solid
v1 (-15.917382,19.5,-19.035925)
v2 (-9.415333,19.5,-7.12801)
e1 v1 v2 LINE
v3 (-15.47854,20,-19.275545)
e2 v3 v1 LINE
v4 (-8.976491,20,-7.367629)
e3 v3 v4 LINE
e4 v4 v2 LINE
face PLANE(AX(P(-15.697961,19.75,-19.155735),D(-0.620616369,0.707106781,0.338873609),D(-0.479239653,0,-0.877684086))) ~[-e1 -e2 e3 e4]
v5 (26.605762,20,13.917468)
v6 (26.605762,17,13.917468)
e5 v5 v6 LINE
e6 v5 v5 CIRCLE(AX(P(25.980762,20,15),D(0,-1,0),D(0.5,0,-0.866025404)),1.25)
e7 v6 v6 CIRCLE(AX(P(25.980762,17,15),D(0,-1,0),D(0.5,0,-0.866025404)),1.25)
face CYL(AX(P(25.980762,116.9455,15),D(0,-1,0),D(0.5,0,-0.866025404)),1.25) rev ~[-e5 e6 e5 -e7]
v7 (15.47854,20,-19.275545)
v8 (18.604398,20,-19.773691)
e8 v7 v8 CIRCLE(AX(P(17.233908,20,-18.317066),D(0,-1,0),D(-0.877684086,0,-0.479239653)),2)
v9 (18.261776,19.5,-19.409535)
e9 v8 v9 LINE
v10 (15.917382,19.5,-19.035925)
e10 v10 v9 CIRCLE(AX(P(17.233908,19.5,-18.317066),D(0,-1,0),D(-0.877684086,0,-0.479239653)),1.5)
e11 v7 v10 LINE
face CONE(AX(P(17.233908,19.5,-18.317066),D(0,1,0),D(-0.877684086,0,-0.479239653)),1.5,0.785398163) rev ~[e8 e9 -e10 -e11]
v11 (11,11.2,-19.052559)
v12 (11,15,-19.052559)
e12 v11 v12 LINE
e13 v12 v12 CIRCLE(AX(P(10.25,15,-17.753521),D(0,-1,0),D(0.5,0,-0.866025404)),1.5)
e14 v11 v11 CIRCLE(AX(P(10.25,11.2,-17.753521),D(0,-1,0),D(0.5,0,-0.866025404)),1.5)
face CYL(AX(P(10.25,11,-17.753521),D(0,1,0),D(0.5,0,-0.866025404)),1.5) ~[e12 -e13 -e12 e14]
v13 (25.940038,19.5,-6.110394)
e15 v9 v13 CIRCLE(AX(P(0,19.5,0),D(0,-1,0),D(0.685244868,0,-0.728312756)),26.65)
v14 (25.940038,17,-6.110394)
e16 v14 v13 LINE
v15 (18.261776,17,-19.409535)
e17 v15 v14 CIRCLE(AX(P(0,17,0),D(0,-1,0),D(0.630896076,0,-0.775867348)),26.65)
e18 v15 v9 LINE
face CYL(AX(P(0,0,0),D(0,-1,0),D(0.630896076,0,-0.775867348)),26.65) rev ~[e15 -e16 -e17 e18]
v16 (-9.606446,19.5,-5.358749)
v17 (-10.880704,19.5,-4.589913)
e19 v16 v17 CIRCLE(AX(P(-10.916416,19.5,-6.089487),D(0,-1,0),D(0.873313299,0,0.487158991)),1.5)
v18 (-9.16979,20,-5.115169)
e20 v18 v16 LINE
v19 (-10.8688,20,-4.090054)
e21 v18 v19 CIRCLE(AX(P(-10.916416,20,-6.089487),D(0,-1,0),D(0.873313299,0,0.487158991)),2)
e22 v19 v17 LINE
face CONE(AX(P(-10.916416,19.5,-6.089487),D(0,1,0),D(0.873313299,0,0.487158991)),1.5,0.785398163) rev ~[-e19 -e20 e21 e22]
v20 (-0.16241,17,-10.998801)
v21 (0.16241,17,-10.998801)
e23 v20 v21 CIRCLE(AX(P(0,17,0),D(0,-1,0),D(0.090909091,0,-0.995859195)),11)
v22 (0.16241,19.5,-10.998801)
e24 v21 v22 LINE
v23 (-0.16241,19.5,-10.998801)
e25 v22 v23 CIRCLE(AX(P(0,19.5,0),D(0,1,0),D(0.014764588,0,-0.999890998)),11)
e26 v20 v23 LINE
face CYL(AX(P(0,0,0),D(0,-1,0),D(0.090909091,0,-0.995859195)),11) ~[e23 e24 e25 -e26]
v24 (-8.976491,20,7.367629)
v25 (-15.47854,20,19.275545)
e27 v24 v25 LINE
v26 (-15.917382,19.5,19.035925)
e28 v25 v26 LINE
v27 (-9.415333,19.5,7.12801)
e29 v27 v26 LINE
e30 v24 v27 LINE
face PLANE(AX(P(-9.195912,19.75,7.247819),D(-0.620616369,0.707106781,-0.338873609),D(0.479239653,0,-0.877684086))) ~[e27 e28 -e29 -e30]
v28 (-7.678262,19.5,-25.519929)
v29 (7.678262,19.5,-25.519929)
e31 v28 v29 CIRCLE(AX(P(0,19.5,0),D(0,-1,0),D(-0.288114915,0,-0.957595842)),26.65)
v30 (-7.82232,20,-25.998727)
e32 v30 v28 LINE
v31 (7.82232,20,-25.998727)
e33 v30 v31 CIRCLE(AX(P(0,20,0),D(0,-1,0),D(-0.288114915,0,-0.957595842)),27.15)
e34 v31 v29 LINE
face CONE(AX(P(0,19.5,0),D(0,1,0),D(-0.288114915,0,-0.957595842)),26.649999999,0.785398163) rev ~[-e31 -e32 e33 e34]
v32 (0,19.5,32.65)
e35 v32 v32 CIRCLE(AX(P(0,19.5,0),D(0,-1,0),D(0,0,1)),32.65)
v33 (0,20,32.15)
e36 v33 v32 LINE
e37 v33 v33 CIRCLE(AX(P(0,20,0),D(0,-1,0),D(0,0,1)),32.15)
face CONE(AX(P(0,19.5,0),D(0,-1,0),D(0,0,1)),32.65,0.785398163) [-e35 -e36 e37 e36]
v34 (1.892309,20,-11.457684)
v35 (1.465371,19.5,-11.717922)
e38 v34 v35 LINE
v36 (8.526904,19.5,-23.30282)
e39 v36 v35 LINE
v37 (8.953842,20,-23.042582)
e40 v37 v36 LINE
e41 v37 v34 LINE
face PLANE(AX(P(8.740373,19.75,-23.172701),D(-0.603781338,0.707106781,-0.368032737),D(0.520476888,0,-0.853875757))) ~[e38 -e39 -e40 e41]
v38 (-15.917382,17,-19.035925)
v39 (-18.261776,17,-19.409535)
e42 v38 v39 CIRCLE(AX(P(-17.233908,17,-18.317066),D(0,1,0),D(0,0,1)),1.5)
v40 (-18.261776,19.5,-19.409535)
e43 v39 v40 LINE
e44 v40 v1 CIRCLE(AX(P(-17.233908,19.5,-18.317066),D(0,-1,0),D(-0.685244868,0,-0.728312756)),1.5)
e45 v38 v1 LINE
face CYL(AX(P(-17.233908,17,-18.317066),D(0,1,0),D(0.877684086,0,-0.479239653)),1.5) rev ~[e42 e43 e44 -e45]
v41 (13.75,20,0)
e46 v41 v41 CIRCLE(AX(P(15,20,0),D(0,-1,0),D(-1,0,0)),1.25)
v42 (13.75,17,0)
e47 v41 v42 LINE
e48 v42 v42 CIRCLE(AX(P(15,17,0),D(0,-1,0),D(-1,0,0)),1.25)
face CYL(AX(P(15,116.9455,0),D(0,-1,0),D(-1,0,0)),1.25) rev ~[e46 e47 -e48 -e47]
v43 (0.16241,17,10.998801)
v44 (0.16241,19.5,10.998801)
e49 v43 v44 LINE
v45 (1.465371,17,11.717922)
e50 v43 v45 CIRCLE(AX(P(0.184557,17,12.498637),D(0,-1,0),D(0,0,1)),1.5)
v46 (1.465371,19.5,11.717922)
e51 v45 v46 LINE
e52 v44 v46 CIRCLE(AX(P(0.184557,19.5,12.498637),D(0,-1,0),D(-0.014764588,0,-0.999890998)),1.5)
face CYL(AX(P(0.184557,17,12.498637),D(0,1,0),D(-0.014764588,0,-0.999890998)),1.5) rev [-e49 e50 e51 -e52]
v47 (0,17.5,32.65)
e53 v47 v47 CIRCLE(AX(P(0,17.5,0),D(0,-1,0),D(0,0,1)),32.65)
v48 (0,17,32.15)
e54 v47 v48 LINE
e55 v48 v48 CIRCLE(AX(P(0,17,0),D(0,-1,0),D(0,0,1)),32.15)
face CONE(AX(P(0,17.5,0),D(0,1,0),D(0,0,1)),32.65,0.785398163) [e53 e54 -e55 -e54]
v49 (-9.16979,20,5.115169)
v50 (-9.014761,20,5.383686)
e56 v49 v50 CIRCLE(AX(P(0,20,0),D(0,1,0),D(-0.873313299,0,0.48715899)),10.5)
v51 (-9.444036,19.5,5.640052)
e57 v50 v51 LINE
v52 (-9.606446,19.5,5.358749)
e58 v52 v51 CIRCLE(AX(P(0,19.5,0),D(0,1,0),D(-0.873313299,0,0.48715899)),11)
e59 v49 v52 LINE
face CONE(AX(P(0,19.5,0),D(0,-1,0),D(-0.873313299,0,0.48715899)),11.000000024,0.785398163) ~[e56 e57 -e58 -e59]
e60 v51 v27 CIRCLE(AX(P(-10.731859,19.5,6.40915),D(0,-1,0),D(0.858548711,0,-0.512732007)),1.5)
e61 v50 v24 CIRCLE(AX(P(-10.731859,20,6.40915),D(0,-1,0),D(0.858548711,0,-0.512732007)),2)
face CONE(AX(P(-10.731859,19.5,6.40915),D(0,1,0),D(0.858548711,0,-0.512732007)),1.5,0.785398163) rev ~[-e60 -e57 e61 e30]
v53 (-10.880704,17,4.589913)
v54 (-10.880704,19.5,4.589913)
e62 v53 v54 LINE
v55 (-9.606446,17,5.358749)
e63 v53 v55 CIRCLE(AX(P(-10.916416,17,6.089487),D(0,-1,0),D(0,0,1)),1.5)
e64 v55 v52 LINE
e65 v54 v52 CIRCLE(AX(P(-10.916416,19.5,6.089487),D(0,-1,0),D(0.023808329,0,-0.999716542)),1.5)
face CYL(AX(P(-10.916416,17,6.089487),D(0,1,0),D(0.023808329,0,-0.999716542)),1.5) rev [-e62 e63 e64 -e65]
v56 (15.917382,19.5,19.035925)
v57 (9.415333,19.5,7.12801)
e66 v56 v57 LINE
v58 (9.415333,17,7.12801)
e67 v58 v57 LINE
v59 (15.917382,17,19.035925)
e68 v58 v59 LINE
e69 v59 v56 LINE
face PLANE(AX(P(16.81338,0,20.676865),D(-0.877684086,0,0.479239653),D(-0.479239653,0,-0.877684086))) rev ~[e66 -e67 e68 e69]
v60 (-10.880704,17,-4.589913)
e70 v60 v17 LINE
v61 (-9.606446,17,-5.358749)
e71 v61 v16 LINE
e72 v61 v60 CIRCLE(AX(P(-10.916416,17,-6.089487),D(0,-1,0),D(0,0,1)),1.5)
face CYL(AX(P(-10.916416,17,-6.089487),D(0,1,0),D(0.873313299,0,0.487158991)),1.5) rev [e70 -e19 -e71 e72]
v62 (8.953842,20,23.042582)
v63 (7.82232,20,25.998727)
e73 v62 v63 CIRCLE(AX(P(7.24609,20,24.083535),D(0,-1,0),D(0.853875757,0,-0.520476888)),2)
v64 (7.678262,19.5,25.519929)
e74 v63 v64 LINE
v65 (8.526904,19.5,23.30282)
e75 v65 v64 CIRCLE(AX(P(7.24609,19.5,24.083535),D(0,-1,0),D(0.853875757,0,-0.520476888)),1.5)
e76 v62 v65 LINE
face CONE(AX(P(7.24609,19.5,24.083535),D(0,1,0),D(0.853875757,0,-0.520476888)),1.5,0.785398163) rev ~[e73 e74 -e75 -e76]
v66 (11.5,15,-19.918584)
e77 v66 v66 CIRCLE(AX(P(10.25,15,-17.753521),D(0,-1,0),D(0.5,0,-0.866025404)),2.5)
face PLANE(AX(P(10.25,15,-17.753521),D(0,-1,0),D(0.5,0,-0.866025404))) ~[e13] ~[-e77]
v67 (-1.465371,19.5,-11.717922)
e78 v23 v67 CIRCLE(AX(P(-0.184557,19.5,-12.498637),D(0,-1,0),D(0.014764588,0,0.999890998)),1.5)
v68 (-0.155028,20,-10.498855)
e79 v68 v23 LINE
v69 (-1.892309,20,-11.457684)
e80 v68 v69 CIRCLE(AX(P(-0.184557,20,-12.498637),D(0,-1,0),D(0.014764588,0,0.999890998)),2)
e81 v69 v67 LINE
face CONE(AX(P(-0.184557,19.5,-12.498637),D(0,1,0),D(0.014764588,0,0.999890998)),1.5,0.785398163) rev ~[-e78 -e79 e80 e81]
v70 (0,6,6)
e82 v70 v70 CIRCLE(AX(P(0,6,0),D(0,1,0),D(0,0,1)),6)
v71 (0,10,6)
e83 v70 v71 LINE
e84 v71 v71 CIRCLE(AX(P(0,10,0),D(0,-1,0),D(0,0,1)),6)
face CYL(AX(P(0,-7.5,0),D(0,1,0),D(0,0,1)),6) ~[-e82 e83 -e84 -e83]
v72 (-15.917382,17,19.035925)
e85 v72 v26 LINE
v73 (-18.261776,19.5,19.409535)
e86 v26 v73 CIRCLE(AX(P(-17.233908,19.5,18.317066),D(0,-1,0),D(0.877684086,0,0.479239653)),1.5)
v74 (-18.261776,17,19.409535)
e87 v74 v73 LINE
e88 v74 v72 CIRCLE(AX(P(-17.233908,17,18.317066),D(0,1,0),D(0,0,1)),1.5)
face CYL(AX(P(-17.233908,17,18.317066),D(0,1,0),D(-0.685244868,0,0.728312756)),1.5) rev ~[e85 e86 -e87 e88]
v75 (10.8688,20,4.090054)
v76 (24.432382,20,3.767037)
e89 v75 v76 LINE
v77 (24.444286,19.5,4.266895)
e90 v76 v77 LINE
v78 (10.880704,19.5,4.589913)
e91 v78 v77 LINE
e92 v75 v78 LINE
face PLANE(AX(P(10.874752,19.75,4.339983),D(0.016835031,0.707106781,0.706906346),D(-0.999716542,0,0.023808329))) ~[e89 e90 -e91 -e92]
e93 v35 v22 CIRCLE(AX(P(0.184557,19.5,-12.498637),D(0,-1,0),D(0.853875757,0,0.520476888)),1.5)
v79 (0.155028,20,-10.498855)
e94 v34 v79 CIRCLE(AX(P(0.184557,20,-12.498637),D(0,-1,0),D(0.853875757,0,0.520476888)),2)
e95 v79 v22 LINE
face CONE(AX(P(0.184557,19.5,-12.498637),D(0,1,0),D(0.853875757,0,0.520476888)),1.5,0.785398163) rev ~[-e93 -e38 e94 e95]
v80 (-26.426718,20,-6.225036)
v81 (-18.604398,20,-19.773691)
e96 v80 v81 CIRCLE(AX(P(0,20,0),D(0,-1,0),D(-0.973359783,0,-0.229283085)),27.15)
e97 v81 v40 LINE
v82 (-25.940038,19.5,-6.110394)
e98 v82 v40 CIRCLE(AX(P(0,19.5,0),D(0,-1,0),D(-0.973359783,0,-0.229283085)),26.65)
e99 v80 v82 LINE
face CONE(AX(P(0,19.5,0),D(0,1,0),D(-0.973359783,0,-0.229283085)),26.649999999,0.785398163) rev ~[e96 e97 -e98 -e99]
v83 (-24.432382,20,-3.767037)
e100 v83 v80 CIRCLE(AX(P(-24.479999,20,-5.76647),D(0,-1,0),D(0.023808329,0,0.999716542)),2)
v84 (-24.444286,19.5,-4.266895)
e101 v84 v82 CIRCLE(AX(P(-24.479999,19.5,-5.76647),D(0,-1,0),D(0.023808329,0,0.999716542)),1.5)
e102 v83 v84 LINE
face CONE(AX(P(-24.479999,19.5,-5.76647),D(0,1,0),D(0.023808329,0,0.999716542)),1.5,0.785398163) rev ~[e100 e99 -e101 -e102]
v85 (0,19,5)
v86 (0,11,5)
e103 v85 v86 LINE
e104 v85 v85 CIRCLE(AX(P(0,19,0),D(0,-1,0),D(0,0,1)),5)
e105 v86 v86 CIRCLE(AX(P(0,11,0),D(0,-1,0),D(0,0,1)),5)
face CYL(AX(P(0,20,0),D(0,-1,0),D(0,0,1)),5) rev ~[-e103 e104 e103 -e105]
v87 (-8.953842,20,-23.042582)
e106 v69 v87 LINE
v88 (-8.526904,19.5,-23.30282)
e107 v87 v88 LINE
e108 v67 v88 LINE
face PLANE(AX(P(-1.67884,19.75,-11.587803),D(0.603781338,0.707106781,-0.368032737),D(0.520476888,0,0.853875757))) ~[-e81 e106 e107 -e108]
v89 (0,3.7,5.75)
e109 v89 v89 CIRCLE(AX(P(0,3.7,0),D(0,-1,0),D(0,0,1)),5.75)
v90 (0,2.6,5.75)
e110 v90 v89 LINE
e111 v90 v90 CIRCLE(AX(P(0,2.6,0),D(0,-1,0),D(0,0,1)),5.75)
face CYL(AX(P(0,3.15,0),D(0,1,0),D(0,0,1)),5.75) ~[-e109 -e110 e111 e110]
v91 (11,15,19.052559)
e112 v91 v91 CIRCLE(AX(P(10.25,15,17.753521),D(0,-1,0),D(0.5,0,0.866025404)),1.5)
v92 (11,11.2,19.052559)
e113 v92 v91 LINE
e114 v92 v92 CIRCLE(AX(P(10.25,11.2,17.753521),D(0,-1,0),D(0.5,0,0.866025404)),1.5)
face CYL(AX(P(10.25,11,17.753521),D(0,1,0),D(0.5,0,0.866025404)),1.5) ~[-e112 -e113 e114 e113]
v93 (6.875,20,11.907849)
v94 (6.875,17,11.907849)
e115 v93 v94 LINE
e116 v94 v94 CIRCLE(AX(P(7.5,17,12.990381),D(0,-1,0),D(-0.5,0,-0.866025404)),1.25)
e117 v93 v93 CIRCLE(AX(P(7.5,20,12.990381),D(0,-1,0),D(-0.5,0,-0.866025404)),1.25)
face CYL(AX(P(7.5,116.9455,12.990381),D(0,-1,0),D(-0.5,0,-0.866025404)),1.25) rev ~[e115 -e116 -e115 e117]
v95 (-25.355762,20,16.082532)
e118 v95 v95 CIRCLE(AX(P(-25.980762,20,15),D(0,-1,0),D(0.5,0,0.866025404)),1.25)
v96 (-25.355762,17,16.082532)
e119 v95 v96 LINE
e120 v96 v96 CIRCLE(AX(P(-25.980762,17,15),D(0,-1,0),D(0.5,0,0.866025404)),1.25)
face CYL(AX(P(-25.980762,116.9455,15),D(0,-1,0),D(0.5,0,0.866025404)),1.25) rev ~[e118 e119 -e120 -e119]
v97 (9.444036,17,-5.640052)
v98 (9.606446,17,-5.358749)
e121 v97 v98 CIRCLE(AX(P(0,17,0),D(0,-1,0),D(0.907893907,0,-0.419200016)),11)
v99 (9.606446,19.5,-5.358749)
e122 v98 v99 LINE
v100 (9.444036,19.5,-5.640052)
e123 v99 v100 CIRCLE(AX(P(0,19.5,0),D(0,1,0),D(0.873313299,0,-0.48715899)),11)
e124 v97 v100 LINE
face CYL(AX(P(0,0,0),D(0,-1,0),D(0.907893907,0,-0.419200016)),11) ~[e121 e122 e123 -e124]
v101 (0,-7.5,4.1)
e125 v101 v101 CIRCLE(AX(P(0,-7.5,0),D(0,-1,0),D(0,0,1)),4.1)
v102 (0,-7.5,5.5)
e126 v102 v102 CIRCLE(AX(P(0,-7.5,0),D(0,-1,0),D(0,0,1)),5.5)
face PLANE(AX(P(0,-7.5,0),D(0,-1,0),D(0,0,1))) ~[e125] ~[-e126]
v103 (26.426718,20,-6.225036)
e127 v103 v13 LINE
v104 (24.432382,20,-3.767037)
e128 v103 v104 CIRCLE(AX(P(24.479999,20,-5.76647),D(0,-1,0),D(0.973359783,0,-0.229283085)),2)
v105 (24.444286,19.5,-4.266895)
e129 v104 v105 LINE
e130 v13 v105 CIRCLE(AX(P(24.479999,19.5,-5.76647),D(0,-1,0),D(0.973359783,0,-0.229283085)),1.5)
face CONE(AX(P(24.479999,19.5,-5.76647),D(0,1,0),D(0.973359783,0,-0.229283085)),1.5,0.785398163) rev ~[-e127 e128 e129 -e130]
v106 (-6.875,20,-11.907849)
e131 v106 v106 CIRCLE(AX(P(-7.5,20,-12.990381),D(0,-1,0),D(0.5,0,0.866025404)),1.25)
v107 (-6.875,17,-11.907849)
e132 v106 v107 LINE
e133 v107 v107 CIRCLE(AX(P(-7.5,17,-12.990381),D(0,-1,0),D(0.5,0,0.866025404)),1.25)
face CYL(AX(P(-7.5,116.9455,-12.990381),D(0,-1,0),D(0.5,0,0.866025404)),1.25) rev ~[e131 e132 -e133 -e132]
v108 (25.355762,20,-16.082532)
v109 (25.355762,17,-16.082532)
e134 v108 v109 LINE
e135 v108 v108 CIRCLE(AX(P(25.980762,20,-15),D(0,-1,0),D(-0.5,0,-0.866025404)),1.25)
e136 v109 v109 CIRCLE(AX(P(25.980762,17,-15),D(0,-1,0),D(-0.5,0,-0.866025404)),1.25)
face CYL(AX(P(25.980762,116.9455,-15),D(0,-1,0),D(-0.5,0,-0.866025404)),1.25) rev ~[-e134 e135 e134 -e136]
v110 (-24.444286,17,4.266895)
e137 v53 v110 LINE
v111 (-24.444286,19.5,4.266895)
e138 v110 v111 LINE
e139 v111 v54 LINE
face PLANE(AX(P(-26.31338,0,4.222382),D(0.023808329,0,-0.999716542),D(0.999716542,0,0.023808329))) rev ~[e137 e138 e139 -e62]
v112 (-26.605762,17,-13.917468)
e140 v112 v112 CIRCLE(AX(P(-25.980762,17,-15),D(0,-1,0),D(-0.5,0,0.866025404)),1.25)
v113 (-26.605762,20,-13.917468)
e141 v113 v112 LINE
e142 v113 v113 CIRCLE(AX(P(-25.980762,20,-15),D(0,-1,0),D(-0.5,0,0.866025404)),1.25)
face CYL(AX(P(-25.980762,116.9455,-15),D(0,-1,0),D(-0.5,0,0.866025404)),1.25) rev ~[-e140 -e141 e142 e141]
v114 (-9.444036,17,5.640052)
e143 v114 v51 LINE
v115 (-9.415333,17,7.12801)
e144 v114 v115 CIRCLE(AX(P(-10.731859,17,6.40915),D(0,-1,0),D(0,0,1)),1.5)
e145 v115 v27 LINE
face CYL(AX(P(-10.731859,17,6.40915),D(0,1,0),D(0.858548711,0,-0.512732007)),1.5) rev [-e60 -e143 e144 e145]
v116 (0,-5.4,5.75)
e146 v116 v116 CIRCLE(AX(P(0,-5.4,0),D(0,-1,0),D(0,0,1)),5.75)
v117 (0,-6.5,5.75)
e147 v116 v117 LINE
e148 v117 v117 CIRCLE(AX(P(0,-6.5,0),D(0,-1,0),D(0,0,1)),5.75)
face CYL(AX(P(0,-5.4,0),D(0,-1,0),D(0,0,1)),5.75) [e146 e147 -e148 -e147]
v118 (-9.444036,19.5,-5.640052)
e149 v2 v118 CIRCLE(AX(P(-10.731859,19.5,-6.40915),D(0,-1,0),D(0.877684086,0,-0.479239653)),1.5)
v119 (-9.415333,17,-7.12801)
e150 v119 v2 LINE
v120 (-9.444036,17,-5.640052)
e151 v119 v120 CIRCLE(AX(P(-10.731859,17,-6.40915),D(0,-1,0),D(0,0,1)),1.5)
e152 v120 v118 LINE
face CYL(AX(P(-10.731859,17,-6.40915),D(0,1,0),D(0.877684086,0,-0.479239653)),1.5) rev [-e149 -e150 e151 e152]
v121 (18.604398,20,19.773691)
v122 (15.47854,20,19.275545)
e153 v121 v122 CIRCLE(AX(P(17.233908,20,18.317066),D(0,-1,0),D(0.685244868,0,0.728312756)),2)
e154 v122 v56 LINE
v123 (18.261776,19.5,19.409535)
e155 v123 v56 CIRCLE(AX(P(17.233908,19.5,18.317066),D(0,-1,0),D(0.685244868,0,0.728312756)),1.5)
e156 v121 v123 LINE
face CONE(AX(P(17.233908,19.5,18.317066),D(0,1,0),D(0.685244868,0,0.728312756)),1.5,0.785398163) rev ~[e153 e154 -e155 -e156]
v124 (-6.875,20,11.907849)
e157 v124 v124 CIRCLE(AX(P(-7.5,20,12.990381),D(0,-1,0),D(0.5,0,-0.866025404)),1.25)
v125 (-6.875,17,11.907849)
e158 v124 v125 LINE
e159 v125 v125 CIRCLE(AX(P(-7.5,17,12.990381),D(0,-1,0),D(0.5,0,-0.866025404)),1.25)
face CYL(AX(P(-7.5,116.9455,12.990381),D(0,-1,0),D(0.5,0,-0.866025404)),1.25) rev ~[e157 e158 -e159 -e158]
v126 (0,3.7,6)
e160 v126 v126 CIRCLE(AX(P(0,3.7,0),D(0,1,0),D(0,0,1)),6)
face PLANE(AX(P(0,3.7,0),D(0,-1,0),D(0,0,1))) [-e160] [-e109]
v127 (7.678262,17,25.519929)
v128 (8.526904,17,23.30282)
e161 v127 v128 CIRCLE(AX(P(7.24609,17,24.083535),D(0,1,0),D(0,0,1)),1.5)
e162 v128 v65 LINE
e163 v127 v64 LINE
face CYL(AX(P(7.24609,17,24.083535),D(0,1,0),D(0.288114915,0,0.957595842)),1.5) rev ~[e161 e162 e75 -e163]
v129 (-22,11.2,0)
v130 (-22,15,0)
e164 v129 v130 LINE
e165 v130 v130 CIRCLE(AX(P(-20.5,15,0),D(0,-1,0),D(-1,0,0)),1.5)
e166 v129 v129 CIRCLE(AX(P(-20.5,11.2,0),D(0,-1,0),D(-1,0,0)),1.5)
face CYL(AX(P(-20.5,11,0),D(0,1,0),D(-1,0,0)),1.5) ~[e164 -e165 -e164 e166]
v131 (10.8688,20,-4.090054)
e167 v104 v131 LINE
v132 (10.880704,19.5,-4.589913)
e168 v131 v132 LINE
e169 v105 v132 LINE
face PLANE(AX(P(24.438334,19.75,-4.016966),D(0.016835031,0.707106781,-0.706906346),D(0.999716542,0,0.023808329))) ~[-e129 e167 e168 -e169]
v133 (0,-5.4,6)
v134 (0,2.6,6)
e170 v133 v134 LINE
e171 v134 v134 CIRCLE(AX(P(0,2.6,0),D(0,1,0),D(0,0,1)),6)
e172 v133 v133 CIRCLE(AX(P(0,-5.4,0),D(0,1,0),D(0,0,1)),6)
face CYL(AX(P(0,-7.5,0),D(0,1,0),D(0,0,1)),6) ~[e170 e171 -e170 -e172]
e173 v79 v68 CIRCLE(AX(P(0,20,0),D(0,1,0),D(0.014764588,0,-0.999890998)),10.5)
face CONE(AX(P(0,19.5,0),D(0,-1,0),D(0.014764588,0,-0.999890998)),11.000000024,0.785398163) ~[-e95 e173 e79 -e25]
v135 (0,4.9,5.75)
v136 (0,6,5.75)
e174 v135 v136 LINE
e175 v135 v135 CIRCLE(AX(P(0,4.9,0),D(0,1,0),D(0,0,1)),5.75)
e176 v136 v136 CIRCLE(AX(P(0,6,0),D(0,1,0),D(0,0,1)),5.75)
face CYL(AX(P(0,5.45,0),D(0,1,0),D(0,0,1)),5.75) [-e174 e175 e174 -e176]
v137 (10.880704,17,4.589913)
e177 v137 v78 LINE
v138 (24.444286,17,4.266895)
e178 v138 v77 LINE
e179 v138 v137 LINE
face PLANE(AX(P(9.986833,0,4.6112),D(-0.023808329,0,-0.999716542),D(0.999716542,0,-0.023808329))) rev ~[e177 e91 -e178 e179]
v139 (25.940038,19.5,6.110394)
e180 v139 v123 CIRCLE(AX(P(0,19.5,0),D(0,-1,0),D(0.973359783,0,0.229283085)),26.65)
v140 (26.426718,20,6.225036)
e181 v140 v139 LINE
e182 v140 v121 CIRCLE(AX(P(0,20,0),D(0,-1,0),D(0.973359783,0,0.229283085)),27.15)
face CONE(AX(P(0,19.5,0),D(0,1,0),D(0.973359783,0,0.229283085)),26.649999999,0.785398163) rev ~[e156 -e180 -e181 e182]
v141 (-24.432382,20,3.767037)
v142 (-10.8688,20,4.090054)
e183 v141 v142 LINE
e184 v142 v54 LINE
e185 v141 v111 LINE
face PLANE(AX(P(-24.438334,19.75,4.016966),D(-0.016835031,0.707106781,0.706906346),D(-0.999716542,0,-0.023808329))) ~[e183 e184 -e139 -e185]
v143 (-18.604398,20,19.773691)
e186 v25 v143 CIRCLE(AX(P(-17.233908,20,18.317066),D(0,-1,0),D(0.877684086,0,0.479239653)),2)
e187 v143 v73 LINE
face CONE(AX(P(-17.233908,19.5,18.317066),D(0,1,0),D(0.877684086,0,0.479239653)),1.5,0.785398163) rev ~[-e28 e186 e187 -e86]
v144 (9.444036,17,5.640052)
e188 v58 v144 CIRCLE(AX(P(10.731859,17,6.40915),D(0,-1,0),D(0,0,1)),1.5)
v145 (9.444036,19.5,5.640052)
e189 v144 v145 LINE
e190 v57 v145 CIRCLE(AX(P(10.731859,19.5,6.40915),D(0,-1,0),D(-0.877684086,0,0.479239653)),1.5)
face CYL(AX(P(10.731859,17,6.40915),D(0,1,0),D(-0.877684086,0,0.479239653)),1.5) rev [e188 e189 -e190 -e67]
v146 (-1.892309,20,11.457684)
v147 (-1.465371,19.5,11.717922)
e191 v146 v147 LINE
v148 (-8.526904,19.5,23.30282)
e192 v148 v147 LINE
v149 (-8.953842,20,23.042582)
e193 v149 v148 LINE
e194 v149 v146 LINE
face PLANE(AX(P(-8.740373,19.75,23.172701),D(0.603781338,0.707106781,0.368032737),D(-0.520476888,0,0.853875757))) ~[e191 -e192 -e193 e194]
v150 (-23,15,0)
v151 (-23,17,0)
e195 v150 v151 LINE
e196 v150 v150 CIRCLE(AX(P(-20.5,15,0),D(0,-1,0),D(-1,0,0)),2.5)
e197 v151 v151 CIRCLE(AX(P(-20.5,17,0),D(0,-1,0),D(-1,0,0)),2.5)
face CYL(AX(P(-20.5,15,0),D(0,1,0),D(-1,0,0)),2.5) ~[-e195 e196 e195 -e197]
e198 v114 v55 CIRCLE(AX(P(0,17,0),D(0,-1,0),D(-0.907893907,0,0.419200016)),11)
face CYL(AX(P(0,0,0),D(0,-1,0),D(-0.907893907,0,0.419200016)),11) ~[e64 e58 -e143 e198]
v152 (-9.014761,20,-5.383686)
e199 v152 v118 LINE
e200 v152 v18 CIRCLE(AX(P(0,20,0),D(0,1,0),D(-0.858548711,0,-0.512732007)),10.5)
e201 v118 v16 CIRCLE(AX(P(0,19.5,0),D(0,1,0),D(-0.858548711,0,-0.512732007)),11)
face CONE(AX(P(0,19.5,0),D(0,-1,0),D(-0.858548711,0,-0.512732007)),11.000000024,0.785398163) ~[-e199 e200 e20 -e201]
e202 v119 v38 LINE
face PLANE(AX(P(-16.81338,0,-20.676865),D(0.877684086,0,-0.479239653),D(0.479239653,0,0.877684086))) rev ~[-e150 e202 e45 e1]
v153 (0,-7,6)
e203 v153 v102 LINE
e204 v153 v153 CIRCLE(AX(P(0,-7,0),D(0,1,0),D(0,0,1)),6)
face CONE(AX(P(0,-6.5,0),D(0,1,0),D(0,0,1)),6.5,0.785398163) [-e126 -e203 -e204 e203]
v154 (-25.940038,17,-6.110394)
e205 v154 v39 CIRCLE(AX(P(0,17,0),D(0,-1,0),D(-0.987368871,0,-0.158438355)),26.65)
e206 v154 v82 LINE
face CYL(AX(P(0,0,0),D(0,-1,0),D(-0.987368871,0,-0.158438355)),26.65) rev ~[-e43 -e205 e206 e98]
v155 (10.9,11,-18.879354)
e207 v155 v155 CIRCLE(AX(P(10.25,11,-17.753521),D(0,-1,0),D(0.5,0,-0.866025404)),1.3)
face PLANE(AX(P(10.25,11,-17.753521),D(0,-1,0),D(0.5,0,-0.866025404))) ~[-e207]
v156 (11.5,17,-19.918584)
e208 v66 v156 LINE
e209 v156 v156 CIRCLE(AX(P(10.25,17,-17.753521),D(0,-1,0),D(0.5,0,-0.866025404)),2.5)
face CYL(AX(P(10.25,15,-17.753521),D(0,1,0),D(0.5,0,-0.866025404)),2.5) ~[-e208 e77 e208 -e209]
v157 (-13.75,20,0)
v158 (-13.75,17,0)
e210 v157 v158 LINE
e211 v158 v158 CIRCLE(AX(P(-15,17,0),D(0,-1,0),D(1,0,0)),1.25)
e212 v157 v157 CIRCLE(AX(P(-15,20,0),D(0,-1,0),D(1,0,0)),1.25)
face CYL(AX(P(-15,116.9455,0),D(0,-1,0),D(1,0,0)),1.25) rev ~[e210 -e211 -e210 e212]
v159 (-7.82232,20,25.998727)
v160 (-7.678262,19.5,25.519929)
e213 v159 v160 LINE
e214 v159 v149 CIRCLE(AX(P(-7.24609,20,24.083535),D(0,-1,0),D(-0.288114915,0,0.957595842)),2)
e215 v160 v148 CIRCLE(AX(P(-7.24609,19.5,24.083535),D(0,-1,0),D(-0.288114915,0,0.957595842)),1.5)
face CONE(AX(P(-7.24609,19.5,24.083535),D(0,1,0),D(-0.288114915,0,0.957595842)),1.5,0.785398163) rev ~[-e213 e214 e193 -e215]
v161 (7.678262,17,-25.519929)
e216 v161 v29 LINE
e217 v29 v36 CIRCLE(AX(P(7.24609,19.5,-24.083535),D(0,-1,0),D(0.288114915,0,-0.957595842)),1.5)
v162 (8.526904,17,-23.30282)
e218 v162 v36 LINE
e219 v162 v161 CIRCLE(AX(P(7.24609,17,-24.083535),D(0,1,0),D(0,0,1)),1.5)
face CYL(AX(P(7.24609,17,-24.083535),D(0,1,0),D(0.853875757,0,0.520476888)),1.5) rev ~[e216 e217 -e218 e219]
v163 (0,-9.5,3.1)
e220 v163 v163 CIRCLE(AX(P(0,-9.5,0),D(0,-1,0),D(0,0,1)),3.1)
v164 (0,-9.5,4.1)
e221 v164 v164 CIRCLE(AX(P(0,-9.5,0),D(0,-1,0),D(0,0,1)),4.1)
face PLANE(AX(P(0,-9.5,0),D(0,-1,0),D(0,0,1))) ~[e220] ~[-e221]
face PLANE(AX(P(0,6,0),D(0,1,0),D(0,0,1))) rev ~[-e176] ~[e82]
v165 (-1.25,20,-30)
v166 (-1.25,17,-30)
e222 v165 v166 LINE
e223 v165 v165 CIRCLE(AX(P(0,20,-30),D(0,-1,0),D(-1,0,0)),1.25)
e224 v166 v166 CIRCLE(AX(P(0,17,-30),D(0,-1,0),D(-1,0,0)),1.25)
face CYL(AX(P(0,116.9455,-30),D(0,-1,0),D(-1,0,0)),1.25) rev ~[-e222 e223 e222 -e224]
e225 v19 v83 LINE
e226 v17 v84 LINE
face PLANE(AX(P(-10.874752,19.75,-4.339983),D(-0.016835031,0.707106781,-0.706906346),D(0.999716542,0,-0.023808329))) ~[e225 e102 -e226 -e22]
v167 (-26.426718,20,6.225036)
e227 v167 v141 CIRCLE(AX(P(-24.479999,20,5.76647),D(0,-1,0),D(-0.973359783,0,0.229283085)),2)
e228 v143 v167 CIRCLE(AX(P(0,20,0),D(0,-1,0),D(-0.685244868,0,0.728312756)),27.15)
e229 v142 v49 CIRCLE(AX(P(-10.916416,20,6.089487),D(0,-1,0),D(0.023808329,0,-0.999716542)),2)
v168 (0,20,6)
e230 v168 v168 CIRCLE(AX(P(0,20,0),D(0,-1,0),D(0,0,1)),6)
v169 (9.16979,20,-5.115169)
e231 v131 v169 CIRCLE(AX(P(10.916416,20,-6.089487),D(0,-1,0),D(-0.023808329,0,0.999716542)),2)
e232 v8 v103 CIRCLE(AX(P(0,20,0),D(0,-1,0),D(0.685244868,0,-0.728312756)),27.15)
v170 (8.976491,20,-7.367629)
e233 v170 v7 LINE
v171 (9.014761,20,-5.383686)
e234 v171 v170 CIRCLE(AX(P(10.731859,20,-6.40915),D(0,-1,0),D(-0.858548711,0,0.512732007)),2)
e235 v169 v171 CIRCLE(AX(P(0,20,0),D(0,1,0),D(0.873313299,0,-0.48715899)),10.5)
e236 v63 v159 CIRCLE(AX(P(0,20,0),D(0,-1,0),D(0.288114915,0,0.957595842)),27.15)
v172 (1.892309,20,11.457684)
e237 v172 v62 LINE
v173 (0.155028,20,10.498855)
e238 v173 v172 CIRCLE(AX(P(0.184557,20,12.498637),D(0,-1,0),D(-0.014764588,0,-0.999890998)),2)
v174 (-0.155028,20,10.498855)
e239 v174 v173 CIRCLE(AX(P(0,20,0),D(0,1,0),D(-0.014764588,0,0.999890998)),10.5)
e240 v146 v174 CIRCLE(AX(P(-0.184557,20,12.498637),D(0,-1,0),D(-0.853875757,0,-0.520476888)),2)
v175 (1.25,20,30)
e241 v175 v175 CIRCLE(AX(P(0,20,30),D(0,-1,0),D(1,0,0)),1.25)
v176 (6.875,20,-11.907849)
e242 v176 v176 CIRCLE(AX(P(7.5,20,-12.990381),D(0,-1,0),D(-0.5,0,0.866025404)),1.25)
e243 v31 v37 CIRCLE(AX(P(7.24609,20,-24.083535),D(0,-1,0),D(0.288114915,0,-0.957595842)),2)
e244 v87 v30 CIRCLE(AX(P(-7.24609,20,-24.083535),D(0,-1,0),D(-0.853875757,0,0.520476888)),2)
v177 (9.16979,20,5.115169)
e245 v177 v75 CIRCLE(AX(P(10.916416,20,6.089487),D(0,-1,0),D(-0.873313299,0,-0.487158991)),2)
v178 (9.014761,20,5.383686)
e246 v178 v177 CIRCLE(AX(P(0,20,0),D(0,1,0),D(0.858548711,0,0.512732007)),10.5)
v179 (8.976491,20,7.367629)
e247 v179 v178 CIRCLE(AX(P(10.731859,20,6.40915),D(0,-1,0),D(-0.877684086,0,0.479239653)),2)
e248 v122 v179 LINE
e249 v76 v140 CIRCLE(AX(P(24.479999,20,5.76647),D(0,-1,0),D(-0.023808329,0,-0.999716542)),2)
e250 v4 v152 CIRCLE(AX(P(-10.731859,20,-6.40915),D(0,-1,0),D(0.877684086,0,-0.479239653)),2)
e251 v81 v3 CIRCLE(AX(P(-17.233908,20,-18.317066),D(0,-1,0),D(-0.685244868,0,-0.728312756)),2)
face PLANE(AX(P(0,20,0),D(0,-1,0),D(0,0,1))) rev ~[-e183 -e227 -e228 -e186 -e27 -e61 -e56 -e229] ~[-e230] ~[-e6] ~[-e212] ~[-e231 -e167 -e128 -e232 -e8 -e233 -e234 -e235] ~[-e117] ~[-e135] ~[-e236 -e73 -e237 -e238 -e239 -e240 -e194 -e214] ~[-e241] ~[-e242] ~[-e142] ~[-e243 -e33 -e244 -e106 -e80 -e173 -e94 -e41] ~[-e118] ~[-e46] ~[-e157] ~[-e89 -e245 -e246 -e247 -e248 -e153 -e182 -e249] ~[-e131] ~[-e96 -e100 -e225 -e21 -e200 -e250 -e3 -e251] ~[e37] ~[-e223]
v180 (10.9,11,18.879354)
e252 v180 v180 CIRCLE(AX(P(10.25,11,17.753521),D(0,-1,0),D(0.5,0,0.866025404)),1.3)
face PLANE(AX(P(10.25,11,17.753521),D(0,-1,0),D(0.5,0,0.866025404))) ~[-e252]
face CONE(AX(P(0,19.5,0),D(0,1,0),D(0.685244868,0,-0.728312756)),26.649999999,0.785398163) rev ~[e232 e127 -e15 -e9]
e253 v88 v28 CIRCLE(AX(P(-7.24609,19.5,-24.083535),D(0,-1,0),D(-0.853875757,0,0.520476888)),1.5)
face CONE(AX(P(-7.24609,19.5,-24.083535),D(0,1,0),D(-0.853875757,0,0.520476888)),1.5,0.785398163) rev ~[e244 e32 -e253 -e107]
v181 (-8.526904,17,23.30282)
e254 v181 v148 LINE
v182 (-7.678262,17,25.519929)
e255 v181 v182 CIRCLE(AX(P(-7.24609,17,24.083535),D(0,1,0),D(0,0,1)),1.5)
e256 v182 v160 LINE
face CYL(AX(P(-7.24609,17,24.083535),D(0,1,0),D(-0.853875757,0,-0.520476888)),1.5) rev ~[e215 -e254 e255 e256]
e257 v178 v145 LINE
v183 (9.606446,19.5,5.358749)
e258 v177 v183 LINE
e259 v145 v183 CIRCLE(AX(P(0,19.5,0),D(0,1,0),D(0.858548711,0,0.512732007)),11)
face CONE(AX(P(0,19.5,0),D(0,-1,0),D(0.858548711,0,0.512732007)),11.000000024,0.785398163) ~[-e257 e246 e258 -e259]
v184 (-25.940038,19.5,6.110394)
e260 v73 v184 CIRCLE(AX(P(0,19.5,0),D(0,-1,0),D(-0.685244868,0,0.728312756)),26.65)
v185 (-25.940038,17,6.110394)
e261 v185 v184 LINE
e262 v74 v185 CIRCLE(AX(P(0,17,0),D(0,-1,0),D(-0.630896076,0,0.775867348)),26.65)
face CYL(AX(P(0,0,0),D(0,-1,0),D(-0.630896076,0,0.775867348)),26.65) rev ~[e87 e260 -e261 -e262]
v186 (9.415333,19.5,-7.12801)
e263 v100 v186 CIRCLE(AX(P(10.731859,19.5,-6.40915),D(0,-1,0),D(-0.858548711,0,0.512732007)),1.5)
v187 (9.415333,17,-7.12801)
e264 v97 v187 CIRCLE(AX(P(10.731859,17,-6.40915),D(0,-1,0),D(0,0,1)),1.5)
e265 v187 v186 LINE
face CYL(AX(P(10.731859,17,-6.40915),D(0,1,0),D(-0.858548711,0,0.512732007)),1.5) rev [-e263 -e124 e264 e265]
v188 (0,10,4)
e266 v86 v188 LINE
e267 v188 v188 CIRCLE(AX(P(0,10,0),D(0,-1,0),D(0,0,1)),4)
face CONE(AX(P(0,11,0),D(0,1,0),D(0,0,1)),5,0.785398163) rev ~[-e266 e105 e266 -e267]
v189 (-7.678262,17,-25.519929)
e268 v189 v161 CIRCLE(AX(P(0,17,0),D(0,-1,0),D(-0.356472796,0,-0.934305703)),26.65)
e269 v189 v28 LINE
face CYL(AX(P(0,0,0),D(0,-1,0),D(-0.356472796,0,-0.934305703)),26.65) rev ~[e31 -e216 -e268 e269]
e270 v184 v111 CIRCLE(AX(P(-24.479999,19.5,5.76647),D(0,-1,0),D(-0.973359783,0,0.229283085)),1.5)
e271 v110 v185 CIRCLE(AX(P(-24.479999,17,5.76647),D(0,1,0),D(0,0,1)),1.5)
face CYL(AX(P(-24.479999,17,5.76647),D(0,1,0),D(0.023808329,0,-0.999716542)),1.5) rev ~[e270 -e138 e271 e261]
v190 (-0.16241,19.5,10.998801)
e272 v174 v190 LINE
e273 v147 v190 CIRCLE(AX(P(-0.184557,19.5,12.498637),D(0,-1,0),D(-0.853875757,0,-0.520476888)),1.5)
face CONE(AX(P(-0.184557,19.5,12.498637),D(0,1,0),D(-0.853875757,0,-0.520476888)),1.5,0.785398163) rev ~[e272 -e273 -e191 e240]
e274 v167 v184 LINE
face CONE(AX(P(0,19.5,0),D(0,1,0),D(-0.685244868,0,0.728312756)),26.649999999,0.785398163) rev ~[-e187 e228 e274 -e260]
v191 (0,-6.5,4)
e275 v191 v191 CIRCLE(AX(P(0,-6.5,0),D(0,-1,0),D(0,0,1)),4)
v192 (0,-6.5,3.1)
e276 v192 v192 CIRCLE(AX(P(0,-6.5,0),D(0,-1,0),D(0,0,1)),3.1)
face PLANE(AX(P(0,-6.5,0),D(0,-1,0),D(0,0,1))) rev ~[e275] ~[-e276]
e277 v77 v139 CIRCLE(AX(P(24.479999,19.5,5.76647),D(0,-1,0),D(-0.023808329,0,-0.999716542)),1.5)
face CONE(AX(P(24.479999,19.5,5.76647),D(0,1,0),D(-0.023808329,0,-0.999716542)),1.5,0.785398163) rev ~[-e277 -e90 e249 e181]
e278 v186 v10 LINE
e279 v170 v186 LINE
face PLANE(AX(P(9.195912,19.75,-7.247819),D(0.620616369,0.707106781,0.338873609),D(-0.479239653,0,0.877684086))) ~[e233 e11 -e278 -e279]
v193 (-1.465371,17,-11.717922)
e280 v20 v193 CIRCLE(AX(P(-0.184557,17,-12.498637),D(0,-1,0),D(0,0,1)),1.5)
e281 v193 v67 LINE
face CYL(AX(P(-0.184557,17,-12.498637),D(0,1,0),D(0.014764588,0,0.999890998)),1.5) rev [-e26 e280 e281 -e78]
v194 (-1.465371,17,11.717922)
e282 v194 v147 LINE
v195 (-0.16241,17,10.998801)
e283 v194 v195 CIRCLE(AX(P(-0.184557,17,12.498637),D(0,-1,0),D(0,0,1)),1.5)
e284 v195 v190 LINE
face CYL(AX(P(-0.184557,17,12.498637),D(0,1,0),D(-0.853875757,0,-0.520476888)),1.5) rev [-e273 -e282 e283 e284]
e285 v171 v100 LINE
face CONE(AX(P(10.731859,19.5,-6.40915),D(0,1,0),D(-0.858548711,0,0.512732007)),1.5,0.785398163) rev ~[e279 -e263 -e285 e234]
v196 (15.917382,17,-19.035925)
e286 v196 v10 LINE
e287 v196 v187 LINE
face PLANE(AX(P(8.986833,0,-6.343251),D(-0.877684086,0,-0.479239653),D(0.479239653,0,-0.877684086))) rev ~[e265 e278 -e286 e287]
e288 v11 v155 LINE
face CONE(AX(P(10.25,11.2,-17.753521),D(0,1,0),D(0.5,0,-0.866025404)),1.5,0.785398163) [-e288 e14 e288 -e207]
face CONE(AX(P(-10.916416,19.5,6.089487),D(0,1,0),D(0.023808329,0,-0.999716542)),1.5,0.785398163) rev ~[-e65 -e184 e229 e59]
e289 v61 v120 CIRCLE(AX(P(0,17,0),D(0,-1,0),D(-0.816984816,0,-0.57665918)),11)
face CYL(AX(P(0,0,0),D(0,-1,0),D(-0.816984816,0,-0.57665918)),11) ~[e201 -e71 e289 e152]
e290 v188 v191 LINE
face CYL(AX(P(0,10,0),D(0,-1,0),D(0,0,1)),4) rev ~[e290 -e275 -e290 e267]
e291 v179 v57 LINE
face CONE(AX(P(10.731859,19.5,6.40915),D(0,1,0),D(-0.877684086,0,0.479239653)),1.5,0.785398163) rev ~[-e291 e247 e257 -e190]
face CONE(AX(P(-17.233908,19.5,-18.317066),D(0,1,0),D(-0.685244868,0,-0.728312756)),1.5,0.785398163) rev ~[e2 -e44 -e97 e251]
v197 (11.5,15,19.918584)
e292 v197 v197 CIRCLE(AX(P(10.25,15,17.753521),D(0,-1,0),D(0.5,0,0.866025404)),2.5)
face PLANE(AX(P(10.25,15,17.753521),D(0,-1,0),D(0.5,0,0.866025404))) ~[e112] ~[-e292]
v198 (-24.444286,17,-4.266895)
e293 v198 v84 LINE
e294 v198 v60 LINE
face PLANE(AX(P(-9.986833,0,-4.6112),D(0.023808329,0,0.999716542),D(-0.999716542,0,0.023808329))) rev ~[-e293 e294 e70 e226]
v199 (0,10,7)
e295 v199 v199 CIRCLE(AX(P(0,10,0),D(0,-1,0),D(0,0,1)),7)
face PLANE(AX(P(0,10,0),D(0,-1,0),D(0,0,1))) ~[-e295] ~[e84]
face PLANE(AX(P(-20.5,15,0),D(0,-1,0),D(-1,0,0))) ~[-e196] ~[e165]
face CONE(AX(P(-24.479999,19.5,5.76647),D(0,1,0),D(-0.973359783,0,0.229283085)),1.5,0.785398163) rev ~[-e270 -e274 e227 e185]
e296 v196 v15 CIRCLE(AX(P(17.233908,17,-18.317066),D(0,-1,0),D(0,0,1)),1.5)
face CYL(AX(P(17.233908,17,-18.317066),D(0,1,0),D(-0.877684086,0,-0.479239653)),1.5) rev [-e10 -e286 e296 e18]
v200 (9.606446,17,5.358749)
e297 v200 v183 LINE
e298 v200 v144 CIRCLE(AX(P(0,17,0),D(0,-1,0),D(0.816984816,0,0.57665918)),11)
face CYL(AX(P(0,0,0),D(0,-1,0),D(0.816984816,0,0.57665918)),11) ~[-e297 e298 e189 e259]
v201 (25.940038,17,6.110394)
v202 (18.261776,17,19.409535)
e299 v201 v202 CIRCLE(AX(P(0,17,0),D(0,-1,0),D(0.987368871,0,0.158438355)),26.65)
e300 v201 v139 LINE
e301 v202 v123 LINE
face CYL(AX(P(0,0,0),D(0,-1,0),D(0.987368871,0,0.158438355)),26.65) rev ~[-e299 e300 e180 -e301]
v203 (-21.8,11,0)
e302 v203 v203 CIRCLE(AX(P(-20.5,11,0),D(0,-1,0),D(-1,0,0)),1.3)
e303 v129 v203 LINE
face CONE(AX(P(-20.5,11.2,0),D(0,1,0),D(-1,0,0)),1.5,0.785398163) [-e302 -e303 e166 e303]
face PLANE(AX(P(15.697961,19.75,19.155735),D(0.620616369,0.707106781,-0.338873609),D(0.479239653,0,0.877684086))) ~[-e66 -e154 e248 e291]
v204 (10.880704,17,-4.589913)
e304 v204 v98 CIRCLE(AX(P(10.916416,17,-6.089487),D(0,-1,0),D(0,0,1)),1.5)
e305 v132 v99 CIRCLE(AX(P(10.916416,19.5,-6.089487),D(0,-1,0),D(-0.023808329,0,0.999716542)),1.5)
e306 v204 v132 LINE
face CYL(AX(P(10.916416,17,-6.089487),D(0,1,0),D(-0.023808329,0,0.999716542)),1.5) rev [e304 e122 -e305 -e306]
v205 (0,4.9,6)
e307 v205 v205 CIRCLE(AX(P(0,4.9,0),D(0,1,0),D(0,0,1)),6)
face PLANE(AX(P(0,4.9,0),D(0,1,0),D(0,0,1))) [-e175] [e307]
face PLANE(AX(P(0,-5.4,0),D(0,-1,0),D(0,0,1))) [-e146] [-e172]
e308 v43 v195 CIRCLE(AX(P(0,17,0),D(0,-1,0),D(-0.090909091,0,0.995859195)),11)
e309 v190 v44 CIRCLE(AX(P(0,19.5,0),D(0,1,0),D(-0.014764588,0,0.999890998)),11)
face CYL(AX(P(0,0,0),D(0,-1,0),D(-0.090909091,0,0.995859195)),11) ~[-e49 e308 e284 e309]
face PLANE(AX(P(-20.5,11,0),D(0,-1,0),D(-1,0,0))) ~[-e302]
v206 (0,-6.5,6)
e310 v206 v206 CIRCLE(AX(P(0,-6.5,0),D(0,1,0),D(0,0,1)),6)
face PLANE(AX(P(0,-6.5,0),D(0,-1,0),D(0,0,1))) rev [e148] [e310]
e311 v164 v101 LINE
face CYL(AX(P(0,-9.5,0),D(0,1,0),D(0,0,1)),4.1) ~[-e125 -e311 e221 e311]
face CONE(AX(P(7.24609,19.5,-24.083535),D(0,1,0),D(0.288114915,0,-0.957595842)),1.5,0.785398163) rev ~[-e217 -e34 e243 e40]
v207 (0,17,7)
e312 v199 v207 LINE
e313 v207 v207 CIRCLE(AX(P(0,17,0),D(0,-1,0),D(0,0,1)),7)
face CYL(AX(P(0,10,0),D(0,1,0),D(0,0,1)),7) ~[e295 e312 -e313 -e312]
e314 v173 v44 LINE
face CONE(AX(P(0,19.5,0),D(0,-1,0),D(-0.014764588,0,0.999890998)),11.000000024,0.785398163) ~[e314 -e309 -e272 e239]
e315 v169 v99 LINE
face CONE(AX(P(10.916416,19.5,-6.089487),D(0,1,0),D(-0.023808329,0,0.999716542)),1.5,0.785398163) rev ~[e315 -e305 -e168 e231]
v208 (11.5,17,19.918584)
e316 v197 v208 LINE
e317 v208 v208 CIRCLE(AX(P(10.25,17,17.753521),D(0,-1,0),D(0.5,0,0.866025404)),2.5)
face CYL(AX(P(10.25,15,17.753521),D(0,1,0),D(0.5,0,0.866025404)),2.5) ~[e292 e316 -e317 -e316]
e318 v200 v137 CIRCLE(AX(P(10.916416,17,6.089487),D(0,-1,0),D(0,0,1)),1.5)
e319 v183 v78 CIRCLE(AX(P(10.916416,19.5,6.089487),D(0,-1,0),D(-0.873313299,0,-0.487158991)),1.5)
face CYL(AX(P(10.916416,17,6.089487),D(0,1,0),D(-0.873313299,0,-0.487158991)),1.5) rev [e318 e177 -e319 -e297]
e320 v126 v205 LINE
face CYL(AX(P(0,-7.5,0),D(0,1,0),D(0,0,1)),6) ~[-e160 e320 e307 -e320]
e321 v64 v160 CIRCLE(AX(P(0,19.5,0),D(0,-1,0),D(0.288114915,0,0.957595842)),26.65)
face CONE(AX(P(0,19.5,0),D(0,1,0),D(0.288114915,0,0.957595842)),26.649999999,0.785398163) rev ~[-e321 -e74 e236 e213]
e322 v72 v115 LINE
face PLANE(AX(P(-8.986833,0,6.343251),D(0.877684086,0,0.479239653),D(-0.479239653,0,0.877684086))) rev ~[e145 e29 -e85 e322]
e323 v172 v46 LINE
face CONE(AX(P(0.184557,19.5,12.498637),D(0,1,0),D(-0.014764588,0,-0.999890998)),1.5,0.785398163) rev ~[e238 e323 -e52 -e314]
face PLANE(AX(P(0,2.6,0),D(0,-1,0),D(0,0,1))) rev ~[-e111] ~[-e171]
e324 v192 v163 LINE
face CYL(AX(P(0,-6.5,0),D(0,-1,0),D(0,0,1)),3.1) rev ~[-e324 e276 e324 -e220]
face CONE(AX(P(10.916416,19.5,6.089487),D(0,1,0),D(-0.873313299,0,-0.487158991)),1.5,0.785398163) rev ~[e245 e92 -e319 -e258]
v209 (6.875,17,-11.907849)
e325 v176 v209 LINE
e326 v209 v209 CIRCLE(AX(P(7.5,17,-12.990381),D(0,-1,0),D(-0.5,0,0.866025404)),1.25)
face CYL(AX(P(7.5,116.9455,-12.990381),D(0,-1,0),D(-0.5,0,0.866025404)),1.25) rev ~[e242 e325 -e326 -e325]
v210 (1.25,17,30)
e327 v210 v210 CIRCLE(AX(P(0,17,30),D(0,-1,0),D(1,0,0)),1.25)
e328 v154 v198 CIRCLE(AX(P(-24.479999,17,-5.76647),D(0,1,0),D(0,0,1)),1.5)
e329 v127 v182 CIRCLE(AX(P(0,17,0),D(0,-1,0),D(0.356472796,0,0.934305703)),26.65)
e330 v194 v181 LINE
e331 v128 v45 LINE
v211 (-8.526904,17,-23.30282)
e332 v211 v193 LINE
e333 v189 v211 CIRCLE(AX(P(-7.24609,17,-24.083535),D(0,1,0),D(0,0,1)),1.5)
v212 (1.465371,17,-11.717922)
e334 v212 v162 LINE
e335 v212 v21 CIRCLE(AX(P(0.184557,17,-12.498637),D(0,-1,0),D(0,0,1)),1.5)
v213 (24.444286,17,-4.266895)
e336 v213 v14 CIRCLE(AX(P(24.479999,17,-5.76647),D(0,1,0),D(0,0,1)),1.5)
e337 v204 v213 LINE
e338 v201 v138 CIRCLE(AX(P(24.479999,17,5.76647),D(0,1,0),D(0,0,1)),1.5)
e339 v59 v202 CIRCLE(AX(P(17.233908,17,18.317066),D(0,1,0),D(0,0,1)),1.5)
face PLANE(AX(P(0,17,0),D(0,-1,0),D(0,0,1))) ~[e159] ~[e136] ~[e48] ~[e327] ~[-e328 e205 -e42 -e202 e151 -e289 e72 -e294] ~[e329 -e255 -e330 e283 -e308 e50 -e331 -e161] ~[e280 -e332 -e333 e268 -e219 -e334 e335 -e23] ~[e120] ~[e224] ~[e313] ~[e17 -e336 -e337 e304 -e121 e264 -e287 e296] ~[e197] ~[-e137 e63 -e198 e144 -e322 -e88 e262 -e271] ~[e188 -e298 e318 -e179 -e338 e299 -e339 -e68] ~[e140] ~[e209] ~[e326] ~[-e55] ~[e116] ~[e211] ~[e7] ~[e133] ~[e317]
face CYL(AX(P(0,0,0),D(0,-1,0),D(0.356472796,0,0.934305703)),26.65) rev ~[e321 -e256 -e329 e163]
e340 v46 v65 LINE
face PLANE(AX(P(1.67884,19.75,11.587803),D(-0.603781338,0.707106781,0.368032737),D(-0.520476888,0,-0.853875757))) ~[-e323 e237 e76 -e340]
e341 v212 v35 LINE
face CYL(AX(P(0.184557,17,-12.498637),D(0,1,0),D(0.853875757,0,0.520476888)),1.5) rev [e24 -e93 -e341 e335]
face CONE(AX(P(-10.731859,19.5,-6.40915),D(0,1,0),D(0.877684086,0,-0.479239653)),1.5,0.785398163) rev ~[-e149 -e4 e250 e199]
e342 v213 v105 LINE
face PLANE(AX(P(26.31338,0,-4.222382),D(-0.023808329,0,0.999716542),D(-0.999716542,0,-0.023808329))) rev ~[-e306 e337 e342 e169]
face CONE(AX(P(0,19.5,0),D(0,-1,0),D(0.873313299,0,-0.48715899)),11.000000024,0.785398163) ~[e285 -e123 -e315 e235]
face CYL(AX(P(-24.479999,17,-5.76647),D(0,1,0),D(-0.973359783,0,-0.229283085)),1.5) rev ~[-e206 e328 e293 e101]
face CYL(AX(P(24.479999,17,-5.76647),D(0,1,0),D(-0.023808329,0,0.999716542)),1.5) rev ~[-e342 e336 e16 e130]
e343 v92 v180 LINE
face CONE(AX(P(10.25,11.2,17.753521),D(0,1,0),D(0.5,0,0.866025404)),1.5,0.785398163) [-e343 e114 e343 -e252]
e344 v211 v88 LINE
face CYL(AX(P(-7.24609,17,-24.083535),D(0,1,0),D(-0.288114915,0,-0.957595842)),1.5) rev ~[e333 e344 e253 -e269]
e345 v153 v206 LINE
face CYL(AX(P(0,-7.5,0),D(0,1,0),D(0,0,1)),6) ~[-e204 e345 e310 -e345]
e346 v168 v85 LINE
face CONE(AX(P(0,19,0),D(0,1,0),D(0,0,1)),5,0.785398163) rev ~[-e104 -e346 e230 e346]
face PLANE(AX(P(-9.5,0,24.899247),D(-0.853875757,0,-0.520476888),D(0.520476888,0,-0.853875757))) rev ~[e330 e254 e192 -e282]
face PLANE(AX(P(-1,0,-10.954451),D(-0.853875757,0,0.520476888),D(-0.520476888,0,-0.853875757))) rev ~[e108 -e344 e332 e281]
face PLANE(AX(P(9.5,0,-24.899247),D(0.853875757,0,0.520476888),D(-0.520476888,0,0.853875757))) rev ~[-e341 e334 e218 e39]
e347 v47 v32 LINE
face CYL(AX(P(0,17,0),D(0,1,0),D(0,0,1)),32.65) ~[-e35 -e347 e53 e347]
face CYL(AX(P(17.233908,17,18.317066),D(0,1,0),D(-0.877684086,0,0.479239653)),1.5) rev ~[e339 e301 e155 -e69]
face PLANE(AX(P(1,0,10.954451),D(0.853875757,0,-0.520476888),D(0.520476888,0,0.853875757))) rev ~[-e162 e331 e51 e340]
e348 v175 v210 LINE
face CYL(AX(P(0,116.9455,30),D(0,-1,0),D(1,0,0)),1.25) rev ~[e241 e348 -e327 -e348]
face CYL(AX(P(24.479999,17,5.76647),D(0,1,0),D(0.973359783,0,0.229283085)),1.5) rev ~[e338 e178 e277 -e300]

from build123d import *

# Parameters (mm, degrees)
CIRPATTERN1_COUNT        = 3
CHAMFER1_SIZE            = 0.5
CHAMFER2_SIZE            = 1
CUT_EXTRUDE1_DEPTH       = 51.319429647
FILLET1_R                = 1.5
M3X0_5_TAPPED_HOLE1_D    = 2.5
CIRPATTERN2_COUNT        = 6
FILLET1_OF_CIRPATTERN2_R = 1.5
SKETCH10_W               = 1.207732619
SKETCH10_H               = 1.1
SKETCH11_W               = 3.151954219
SKETCH11_H               = 1.1
M3X0_5_TAPPED_HOLE2_D    = 2.5
CIRPATTERN3_COUNT        = 6
CHAMFER3_SIZE            = 0.5
CHAMFER4_SIZE            = 0.2


with BuildPart() as part:
    # Sketch2 → Revolve1 (revolve)
    with BuildSketch(Plane.XY):
        Polygon((-4, 10), (-4, -6.5), (-3.1, -6.5), (-3.1, -9.5), (-4.1, -9.5), (-4.1, -7.5), (-6, -7.5), (-6, 10), (-7, 10), (-7, 17), (-32.65, 17), (-32.65, 20), (-5, 20), (-5, 11), align=None)
    revolve(axis=Axis((0, 0, 0), (0, -1, 0)))

    # Sketch3 → Revolve2 (revolve)
    with BuildSketch(Plane.XY):
        Polygon((-22, 15), (-23, 15), (-23, 17), (-20.5, 17), (-20.5, 11), (-22, 11), align=None)
    revolve2 = revolve(axis=Axis((-20.5, 18.273035546, 0), (0, -1, 0)))

    # CirPattern1: Revolve2 ×3 about axis
    cirpattern1_axis = Axis((0, 0, 0), (0, 1, 0))
    for i in range(1, CIRPATTERN1_COUNT):
        add(revolve2.rotate(cirpattern1_axis, i * 360 / CIRPATTERN1_COUNT))

    # Chamfer1
    chamfer1_edges = [part.edges().sort_by_distance(p)[0] for p in [
        (32.65, 20, 0),
        (32.65, 17, 0),
    ]]
    chamfer(chamfer1_edges, length=CHAMFER1_SIZE)

    # Chamfer2
    chamfer2_edges = [part.edges().sort_by_distance(p)[0] for p in [
        (5, 20, 0),
    ]]
    chamfer(chamfer2_edges, length=CHAMFER2_SIZE)

    # Sketch6 → Cut-Extrude1 (cut, through all)
    with BuildSketch(Plane(origin=(0, 0, 0), x_dir=(1, 0, 0), z_dir=(0, 1, 0))):
        with BuildLine():
            Line((26.313380417, 4.222382152), (9.986832981, 4.611200171))
            ThreePointArc((9.986832981, 4.611200171), (9.526279442, 5.5), (8.986832981, 6.343250979))
            Line((8.986832981, 6.343250979), (16.813380417, 20.676864824))
            ThreePointArc((16.813380417, 20.676864824), (23.079577011, 13.325), (26.313380417, 4.222382152))
        make_face()
    cut_extrude1 = extrude(amount=CUT_EXTRUDE1_DEPTH, mode=Mode.SUBTRACT)

    # Fillet1
    fillet1_edges = [part.edges().sort_by_distance(p)[0] for p in [
        (26.313380417, 18.5, -4.222382152),
        (9.986832981, 18.5, -4.611200171),
        (8.986832981, 18.5, -6.343250979),
        (16.813380417, 18.5, -20.676864824),
    ]]
    fillet(fillet1_edges, radius=FILLET1_R)

    # M3x0.5 Tapped Hole1 (through all)
    with Locations(Plane(origin=(0, 20, 0), x_dir=(1, 0, 0), z_dir=(0, 1, 0))):
        with Locations((15, 0)):
            m3x0_5_tapped_hole1 = Hole(M3X0_5_TAPPED_HOLE1_D / 2)

    # CirPattern2: Cut-Extrude1, M3x0.5 Tapped Hole1 ×6 about axis
    cirpattern2_axis = Axis((0, 0, 0), (0, 1, 0))
    add([cut_extrude1.rotate(cirpattern2_axis, i * 360 / CIRPATTERN2_COUNT) for i in range(1, CIRPATTERN2_COUNT)], mode=Mode.SUBTRACT)
    add([m3x0_5_tapped_hole1.rotate(cirpattern2_axis, i * 360 / CIRPATTERN2_COUNT) for i in range(1, CIRPATTERN2_COUNT)], mode=Mode.SUBTRACT)

    # Fillet1 of CirPattern2
    fillet1_of_cirpattern2_edges = [part.edges().sort_by_distance(p)[0] for p in [
        (9.5, 18.5, -24.899246977),
        (1, 18.5, -10.95445115),
        (-1, 18.5, -10.95445115),
        (-9.5, 18.5, -24.899246977),
        (-16.813380417, 18.5, -20.676864824),
        (-8.986832981, 18.5, -6.343250979),
        (-9.986832981, 18.5, -4.611200171),
        (-26.313380417, 18.5, -4.222382152),
        (-26.313380417, 18.5, 4.222382152),
        (-9.986832981, 18.5, 4.611200171),
        (-8.986832981, 18.5, 6.343250979),
        (-16.813380417, 18.5, 20.676864824),
        (-9.5, 18.5, 24.899246977),
        (-1, 18.5, 10.95445115),
        (1, 18.5, 10.95445115),
        (9.5, 18.5, 24.899246977),
        (16.813380417, 18.5, 20.676864824),
        (8.986832981, 18.5, 6.343250979),
        (9.986832981, 18.5, 4.611200171),
        (26.313380417, 18.5, 4.222382152),
    ]]
    fillet(fillet1_of_cirpattern2_edges, radius=FILLET1_OF_CIRPATTERN2_R)

    # Sketch9 → Cut-Revolve1 (revolve, cut)
    with BuildSketch(Plane.XY):
        Polygon((-8.538708616, -5.4), (-5.75, -5.4), (-5.75, -6.5), (-6.5, -6.5), (-5.5, -7.5), (-8.538708616, -7.5), align=None)
    revolve(axis=Axis((0, 0, 0), (0, -1, 0)), mode=Mode.SUBTRACT)

    # Sketch10 → Cut-Revolve2 (revolve, cut)
    with BuildSketch(Plane.XY):
        with Locations((-6.35386631, 5.45)):
            Rectangle(SKETCH10_W, SKETCH10_H)
    revolve(axis=Axis((0, 0, 0), (0, 1, 0)), mode=Mode.SUBTRACT)

    # Sketch11 → Cut-Revolve3 (revolve, cut)
    with BuildSketch(Plane.XY):
        with Locations((-7.32597711, 3.15)):
            Rectangle(SKETCH11_W, SKETCH11_H)
    revolve(axis=Axis((0, 0, 0), (0, -1, 0)), mode=Mode.SUBTRACT)

    # M3x0.5 Tapped Hole2 (through all)
    with Locations(Plane(origin=(0, 20, 0), x_dir=(1, 0, 0), z_dir=(0, 1, 0))):
        with Locations((0, 30)):
            m3x0_5_tapped_hole2 = Hole(M3X0_5_TAPPED_HOLE2_D / 2)

    # CirPattern3: M3x0.5 Tapped Hole2 ×6 about axis
    cirpattern3_axis = Axis((0, 0, 0), (0, 1, 0))
    for i in range(1, CIRPATTERN3_COUNT):
        add(m3x0_5_tapped_hole2.rotate(cirpattern3_axis, i * 360 / CIRPATTERN3_COUNT), mode=Mode.SUBTRACT)

    # Chamfer3
    chamfer3_edges = [part.edges().sort_by_distance(p)[0] for p in [
        (-9.526279442, 20, -5.5),
        (-9.232137893, 20, -6.380220105),
        (-10.141501639, 20, -4.805155894),
        (-12.666357528, 20, -13.081967435),
        (-17.662494894, 20, -4.428403676),
        (-16.997842711, 20, -19.798373681),
        (-25.644815917, 20, -4.821376756),
        (-23.079577011, 20, -13.325),
        (9.526279442, 20, -5.5),
        (10.141501639, 20, -4.805155894),
        (9.232137893, 20, -6.380220105),
        (17.662494894, 20, -4.428403676),
        (12.666357528, 20, -13.081967435),
        (25.644815917, 20, -4.821376756),
        (16.997842711, 20, -19.798373681),
        (23.079577011, 20, -13.325),
        (0, 20, -11),
        (0.909363746, 20, -11.185375999),
        (-0.909363746, 20, -11.185375999),
        (4.996137366, 20, -17.51037111),
        (-4.996137366, 20, -17.51037111),
        (8.646973206, 20, -24.619750438),
        (-8.646973206, 20, -24.619750438),
        (0, 20, -26.65),
        (-17.662494894, 20, 4.428403676),
        (-25.644815917, 20, 4.821376756),
        (-10.141501639, 20, 4.805155894),
        (-23.079577011, 20, 13.325),
        (-9.526279442, 20, 5.5),
        (-16.997842711, 20, 19.798373681),
        (-9.232137893, 20, 6.380220105),
        (-12.666357528, 20, 13.081967435),
        (-4.996137366, 20, 17.51037111),
        (-8.646973206, 20, 24.619750438),
        (-0.909363746, 20, 11.185375999),
        (0, 20, 26.65),
        (0, 20, 11),
        (8.646973206, 20, 24.619750438),
        (0.909363746, 20, 11.185375999),
        (4.996137366, 20, 17.51037111),
        (17.662494894, 20, 4.428403676),
        (10.141501639, 20, 4.805155894),
        (25.644815917, 20, 4.821376756),
        (9.526279442, 20, 5.5),
        (23.079577011, 20, 13.325),
        (9.232137893, 20, 6.380220105),
        (16.997842711, 20, 19.798373681),
        (12.666357528, 20, 13.081967435),
    ]]
    chamfer(chamfer3_edges, length=CHAMFER3_SIZE)

    # Chamfer4
    chamfer4_edges = [part.edges().sort_by_distance(p)[0] for p in [
        (9.5, 11, -16.454482672),
        (9.5, 11, 16.454482672),
        (-19, 11, 0),
    ]]
    chamfer(chamfer4_edges, length=CHAMFER4_SIZE)


solid = part.part
